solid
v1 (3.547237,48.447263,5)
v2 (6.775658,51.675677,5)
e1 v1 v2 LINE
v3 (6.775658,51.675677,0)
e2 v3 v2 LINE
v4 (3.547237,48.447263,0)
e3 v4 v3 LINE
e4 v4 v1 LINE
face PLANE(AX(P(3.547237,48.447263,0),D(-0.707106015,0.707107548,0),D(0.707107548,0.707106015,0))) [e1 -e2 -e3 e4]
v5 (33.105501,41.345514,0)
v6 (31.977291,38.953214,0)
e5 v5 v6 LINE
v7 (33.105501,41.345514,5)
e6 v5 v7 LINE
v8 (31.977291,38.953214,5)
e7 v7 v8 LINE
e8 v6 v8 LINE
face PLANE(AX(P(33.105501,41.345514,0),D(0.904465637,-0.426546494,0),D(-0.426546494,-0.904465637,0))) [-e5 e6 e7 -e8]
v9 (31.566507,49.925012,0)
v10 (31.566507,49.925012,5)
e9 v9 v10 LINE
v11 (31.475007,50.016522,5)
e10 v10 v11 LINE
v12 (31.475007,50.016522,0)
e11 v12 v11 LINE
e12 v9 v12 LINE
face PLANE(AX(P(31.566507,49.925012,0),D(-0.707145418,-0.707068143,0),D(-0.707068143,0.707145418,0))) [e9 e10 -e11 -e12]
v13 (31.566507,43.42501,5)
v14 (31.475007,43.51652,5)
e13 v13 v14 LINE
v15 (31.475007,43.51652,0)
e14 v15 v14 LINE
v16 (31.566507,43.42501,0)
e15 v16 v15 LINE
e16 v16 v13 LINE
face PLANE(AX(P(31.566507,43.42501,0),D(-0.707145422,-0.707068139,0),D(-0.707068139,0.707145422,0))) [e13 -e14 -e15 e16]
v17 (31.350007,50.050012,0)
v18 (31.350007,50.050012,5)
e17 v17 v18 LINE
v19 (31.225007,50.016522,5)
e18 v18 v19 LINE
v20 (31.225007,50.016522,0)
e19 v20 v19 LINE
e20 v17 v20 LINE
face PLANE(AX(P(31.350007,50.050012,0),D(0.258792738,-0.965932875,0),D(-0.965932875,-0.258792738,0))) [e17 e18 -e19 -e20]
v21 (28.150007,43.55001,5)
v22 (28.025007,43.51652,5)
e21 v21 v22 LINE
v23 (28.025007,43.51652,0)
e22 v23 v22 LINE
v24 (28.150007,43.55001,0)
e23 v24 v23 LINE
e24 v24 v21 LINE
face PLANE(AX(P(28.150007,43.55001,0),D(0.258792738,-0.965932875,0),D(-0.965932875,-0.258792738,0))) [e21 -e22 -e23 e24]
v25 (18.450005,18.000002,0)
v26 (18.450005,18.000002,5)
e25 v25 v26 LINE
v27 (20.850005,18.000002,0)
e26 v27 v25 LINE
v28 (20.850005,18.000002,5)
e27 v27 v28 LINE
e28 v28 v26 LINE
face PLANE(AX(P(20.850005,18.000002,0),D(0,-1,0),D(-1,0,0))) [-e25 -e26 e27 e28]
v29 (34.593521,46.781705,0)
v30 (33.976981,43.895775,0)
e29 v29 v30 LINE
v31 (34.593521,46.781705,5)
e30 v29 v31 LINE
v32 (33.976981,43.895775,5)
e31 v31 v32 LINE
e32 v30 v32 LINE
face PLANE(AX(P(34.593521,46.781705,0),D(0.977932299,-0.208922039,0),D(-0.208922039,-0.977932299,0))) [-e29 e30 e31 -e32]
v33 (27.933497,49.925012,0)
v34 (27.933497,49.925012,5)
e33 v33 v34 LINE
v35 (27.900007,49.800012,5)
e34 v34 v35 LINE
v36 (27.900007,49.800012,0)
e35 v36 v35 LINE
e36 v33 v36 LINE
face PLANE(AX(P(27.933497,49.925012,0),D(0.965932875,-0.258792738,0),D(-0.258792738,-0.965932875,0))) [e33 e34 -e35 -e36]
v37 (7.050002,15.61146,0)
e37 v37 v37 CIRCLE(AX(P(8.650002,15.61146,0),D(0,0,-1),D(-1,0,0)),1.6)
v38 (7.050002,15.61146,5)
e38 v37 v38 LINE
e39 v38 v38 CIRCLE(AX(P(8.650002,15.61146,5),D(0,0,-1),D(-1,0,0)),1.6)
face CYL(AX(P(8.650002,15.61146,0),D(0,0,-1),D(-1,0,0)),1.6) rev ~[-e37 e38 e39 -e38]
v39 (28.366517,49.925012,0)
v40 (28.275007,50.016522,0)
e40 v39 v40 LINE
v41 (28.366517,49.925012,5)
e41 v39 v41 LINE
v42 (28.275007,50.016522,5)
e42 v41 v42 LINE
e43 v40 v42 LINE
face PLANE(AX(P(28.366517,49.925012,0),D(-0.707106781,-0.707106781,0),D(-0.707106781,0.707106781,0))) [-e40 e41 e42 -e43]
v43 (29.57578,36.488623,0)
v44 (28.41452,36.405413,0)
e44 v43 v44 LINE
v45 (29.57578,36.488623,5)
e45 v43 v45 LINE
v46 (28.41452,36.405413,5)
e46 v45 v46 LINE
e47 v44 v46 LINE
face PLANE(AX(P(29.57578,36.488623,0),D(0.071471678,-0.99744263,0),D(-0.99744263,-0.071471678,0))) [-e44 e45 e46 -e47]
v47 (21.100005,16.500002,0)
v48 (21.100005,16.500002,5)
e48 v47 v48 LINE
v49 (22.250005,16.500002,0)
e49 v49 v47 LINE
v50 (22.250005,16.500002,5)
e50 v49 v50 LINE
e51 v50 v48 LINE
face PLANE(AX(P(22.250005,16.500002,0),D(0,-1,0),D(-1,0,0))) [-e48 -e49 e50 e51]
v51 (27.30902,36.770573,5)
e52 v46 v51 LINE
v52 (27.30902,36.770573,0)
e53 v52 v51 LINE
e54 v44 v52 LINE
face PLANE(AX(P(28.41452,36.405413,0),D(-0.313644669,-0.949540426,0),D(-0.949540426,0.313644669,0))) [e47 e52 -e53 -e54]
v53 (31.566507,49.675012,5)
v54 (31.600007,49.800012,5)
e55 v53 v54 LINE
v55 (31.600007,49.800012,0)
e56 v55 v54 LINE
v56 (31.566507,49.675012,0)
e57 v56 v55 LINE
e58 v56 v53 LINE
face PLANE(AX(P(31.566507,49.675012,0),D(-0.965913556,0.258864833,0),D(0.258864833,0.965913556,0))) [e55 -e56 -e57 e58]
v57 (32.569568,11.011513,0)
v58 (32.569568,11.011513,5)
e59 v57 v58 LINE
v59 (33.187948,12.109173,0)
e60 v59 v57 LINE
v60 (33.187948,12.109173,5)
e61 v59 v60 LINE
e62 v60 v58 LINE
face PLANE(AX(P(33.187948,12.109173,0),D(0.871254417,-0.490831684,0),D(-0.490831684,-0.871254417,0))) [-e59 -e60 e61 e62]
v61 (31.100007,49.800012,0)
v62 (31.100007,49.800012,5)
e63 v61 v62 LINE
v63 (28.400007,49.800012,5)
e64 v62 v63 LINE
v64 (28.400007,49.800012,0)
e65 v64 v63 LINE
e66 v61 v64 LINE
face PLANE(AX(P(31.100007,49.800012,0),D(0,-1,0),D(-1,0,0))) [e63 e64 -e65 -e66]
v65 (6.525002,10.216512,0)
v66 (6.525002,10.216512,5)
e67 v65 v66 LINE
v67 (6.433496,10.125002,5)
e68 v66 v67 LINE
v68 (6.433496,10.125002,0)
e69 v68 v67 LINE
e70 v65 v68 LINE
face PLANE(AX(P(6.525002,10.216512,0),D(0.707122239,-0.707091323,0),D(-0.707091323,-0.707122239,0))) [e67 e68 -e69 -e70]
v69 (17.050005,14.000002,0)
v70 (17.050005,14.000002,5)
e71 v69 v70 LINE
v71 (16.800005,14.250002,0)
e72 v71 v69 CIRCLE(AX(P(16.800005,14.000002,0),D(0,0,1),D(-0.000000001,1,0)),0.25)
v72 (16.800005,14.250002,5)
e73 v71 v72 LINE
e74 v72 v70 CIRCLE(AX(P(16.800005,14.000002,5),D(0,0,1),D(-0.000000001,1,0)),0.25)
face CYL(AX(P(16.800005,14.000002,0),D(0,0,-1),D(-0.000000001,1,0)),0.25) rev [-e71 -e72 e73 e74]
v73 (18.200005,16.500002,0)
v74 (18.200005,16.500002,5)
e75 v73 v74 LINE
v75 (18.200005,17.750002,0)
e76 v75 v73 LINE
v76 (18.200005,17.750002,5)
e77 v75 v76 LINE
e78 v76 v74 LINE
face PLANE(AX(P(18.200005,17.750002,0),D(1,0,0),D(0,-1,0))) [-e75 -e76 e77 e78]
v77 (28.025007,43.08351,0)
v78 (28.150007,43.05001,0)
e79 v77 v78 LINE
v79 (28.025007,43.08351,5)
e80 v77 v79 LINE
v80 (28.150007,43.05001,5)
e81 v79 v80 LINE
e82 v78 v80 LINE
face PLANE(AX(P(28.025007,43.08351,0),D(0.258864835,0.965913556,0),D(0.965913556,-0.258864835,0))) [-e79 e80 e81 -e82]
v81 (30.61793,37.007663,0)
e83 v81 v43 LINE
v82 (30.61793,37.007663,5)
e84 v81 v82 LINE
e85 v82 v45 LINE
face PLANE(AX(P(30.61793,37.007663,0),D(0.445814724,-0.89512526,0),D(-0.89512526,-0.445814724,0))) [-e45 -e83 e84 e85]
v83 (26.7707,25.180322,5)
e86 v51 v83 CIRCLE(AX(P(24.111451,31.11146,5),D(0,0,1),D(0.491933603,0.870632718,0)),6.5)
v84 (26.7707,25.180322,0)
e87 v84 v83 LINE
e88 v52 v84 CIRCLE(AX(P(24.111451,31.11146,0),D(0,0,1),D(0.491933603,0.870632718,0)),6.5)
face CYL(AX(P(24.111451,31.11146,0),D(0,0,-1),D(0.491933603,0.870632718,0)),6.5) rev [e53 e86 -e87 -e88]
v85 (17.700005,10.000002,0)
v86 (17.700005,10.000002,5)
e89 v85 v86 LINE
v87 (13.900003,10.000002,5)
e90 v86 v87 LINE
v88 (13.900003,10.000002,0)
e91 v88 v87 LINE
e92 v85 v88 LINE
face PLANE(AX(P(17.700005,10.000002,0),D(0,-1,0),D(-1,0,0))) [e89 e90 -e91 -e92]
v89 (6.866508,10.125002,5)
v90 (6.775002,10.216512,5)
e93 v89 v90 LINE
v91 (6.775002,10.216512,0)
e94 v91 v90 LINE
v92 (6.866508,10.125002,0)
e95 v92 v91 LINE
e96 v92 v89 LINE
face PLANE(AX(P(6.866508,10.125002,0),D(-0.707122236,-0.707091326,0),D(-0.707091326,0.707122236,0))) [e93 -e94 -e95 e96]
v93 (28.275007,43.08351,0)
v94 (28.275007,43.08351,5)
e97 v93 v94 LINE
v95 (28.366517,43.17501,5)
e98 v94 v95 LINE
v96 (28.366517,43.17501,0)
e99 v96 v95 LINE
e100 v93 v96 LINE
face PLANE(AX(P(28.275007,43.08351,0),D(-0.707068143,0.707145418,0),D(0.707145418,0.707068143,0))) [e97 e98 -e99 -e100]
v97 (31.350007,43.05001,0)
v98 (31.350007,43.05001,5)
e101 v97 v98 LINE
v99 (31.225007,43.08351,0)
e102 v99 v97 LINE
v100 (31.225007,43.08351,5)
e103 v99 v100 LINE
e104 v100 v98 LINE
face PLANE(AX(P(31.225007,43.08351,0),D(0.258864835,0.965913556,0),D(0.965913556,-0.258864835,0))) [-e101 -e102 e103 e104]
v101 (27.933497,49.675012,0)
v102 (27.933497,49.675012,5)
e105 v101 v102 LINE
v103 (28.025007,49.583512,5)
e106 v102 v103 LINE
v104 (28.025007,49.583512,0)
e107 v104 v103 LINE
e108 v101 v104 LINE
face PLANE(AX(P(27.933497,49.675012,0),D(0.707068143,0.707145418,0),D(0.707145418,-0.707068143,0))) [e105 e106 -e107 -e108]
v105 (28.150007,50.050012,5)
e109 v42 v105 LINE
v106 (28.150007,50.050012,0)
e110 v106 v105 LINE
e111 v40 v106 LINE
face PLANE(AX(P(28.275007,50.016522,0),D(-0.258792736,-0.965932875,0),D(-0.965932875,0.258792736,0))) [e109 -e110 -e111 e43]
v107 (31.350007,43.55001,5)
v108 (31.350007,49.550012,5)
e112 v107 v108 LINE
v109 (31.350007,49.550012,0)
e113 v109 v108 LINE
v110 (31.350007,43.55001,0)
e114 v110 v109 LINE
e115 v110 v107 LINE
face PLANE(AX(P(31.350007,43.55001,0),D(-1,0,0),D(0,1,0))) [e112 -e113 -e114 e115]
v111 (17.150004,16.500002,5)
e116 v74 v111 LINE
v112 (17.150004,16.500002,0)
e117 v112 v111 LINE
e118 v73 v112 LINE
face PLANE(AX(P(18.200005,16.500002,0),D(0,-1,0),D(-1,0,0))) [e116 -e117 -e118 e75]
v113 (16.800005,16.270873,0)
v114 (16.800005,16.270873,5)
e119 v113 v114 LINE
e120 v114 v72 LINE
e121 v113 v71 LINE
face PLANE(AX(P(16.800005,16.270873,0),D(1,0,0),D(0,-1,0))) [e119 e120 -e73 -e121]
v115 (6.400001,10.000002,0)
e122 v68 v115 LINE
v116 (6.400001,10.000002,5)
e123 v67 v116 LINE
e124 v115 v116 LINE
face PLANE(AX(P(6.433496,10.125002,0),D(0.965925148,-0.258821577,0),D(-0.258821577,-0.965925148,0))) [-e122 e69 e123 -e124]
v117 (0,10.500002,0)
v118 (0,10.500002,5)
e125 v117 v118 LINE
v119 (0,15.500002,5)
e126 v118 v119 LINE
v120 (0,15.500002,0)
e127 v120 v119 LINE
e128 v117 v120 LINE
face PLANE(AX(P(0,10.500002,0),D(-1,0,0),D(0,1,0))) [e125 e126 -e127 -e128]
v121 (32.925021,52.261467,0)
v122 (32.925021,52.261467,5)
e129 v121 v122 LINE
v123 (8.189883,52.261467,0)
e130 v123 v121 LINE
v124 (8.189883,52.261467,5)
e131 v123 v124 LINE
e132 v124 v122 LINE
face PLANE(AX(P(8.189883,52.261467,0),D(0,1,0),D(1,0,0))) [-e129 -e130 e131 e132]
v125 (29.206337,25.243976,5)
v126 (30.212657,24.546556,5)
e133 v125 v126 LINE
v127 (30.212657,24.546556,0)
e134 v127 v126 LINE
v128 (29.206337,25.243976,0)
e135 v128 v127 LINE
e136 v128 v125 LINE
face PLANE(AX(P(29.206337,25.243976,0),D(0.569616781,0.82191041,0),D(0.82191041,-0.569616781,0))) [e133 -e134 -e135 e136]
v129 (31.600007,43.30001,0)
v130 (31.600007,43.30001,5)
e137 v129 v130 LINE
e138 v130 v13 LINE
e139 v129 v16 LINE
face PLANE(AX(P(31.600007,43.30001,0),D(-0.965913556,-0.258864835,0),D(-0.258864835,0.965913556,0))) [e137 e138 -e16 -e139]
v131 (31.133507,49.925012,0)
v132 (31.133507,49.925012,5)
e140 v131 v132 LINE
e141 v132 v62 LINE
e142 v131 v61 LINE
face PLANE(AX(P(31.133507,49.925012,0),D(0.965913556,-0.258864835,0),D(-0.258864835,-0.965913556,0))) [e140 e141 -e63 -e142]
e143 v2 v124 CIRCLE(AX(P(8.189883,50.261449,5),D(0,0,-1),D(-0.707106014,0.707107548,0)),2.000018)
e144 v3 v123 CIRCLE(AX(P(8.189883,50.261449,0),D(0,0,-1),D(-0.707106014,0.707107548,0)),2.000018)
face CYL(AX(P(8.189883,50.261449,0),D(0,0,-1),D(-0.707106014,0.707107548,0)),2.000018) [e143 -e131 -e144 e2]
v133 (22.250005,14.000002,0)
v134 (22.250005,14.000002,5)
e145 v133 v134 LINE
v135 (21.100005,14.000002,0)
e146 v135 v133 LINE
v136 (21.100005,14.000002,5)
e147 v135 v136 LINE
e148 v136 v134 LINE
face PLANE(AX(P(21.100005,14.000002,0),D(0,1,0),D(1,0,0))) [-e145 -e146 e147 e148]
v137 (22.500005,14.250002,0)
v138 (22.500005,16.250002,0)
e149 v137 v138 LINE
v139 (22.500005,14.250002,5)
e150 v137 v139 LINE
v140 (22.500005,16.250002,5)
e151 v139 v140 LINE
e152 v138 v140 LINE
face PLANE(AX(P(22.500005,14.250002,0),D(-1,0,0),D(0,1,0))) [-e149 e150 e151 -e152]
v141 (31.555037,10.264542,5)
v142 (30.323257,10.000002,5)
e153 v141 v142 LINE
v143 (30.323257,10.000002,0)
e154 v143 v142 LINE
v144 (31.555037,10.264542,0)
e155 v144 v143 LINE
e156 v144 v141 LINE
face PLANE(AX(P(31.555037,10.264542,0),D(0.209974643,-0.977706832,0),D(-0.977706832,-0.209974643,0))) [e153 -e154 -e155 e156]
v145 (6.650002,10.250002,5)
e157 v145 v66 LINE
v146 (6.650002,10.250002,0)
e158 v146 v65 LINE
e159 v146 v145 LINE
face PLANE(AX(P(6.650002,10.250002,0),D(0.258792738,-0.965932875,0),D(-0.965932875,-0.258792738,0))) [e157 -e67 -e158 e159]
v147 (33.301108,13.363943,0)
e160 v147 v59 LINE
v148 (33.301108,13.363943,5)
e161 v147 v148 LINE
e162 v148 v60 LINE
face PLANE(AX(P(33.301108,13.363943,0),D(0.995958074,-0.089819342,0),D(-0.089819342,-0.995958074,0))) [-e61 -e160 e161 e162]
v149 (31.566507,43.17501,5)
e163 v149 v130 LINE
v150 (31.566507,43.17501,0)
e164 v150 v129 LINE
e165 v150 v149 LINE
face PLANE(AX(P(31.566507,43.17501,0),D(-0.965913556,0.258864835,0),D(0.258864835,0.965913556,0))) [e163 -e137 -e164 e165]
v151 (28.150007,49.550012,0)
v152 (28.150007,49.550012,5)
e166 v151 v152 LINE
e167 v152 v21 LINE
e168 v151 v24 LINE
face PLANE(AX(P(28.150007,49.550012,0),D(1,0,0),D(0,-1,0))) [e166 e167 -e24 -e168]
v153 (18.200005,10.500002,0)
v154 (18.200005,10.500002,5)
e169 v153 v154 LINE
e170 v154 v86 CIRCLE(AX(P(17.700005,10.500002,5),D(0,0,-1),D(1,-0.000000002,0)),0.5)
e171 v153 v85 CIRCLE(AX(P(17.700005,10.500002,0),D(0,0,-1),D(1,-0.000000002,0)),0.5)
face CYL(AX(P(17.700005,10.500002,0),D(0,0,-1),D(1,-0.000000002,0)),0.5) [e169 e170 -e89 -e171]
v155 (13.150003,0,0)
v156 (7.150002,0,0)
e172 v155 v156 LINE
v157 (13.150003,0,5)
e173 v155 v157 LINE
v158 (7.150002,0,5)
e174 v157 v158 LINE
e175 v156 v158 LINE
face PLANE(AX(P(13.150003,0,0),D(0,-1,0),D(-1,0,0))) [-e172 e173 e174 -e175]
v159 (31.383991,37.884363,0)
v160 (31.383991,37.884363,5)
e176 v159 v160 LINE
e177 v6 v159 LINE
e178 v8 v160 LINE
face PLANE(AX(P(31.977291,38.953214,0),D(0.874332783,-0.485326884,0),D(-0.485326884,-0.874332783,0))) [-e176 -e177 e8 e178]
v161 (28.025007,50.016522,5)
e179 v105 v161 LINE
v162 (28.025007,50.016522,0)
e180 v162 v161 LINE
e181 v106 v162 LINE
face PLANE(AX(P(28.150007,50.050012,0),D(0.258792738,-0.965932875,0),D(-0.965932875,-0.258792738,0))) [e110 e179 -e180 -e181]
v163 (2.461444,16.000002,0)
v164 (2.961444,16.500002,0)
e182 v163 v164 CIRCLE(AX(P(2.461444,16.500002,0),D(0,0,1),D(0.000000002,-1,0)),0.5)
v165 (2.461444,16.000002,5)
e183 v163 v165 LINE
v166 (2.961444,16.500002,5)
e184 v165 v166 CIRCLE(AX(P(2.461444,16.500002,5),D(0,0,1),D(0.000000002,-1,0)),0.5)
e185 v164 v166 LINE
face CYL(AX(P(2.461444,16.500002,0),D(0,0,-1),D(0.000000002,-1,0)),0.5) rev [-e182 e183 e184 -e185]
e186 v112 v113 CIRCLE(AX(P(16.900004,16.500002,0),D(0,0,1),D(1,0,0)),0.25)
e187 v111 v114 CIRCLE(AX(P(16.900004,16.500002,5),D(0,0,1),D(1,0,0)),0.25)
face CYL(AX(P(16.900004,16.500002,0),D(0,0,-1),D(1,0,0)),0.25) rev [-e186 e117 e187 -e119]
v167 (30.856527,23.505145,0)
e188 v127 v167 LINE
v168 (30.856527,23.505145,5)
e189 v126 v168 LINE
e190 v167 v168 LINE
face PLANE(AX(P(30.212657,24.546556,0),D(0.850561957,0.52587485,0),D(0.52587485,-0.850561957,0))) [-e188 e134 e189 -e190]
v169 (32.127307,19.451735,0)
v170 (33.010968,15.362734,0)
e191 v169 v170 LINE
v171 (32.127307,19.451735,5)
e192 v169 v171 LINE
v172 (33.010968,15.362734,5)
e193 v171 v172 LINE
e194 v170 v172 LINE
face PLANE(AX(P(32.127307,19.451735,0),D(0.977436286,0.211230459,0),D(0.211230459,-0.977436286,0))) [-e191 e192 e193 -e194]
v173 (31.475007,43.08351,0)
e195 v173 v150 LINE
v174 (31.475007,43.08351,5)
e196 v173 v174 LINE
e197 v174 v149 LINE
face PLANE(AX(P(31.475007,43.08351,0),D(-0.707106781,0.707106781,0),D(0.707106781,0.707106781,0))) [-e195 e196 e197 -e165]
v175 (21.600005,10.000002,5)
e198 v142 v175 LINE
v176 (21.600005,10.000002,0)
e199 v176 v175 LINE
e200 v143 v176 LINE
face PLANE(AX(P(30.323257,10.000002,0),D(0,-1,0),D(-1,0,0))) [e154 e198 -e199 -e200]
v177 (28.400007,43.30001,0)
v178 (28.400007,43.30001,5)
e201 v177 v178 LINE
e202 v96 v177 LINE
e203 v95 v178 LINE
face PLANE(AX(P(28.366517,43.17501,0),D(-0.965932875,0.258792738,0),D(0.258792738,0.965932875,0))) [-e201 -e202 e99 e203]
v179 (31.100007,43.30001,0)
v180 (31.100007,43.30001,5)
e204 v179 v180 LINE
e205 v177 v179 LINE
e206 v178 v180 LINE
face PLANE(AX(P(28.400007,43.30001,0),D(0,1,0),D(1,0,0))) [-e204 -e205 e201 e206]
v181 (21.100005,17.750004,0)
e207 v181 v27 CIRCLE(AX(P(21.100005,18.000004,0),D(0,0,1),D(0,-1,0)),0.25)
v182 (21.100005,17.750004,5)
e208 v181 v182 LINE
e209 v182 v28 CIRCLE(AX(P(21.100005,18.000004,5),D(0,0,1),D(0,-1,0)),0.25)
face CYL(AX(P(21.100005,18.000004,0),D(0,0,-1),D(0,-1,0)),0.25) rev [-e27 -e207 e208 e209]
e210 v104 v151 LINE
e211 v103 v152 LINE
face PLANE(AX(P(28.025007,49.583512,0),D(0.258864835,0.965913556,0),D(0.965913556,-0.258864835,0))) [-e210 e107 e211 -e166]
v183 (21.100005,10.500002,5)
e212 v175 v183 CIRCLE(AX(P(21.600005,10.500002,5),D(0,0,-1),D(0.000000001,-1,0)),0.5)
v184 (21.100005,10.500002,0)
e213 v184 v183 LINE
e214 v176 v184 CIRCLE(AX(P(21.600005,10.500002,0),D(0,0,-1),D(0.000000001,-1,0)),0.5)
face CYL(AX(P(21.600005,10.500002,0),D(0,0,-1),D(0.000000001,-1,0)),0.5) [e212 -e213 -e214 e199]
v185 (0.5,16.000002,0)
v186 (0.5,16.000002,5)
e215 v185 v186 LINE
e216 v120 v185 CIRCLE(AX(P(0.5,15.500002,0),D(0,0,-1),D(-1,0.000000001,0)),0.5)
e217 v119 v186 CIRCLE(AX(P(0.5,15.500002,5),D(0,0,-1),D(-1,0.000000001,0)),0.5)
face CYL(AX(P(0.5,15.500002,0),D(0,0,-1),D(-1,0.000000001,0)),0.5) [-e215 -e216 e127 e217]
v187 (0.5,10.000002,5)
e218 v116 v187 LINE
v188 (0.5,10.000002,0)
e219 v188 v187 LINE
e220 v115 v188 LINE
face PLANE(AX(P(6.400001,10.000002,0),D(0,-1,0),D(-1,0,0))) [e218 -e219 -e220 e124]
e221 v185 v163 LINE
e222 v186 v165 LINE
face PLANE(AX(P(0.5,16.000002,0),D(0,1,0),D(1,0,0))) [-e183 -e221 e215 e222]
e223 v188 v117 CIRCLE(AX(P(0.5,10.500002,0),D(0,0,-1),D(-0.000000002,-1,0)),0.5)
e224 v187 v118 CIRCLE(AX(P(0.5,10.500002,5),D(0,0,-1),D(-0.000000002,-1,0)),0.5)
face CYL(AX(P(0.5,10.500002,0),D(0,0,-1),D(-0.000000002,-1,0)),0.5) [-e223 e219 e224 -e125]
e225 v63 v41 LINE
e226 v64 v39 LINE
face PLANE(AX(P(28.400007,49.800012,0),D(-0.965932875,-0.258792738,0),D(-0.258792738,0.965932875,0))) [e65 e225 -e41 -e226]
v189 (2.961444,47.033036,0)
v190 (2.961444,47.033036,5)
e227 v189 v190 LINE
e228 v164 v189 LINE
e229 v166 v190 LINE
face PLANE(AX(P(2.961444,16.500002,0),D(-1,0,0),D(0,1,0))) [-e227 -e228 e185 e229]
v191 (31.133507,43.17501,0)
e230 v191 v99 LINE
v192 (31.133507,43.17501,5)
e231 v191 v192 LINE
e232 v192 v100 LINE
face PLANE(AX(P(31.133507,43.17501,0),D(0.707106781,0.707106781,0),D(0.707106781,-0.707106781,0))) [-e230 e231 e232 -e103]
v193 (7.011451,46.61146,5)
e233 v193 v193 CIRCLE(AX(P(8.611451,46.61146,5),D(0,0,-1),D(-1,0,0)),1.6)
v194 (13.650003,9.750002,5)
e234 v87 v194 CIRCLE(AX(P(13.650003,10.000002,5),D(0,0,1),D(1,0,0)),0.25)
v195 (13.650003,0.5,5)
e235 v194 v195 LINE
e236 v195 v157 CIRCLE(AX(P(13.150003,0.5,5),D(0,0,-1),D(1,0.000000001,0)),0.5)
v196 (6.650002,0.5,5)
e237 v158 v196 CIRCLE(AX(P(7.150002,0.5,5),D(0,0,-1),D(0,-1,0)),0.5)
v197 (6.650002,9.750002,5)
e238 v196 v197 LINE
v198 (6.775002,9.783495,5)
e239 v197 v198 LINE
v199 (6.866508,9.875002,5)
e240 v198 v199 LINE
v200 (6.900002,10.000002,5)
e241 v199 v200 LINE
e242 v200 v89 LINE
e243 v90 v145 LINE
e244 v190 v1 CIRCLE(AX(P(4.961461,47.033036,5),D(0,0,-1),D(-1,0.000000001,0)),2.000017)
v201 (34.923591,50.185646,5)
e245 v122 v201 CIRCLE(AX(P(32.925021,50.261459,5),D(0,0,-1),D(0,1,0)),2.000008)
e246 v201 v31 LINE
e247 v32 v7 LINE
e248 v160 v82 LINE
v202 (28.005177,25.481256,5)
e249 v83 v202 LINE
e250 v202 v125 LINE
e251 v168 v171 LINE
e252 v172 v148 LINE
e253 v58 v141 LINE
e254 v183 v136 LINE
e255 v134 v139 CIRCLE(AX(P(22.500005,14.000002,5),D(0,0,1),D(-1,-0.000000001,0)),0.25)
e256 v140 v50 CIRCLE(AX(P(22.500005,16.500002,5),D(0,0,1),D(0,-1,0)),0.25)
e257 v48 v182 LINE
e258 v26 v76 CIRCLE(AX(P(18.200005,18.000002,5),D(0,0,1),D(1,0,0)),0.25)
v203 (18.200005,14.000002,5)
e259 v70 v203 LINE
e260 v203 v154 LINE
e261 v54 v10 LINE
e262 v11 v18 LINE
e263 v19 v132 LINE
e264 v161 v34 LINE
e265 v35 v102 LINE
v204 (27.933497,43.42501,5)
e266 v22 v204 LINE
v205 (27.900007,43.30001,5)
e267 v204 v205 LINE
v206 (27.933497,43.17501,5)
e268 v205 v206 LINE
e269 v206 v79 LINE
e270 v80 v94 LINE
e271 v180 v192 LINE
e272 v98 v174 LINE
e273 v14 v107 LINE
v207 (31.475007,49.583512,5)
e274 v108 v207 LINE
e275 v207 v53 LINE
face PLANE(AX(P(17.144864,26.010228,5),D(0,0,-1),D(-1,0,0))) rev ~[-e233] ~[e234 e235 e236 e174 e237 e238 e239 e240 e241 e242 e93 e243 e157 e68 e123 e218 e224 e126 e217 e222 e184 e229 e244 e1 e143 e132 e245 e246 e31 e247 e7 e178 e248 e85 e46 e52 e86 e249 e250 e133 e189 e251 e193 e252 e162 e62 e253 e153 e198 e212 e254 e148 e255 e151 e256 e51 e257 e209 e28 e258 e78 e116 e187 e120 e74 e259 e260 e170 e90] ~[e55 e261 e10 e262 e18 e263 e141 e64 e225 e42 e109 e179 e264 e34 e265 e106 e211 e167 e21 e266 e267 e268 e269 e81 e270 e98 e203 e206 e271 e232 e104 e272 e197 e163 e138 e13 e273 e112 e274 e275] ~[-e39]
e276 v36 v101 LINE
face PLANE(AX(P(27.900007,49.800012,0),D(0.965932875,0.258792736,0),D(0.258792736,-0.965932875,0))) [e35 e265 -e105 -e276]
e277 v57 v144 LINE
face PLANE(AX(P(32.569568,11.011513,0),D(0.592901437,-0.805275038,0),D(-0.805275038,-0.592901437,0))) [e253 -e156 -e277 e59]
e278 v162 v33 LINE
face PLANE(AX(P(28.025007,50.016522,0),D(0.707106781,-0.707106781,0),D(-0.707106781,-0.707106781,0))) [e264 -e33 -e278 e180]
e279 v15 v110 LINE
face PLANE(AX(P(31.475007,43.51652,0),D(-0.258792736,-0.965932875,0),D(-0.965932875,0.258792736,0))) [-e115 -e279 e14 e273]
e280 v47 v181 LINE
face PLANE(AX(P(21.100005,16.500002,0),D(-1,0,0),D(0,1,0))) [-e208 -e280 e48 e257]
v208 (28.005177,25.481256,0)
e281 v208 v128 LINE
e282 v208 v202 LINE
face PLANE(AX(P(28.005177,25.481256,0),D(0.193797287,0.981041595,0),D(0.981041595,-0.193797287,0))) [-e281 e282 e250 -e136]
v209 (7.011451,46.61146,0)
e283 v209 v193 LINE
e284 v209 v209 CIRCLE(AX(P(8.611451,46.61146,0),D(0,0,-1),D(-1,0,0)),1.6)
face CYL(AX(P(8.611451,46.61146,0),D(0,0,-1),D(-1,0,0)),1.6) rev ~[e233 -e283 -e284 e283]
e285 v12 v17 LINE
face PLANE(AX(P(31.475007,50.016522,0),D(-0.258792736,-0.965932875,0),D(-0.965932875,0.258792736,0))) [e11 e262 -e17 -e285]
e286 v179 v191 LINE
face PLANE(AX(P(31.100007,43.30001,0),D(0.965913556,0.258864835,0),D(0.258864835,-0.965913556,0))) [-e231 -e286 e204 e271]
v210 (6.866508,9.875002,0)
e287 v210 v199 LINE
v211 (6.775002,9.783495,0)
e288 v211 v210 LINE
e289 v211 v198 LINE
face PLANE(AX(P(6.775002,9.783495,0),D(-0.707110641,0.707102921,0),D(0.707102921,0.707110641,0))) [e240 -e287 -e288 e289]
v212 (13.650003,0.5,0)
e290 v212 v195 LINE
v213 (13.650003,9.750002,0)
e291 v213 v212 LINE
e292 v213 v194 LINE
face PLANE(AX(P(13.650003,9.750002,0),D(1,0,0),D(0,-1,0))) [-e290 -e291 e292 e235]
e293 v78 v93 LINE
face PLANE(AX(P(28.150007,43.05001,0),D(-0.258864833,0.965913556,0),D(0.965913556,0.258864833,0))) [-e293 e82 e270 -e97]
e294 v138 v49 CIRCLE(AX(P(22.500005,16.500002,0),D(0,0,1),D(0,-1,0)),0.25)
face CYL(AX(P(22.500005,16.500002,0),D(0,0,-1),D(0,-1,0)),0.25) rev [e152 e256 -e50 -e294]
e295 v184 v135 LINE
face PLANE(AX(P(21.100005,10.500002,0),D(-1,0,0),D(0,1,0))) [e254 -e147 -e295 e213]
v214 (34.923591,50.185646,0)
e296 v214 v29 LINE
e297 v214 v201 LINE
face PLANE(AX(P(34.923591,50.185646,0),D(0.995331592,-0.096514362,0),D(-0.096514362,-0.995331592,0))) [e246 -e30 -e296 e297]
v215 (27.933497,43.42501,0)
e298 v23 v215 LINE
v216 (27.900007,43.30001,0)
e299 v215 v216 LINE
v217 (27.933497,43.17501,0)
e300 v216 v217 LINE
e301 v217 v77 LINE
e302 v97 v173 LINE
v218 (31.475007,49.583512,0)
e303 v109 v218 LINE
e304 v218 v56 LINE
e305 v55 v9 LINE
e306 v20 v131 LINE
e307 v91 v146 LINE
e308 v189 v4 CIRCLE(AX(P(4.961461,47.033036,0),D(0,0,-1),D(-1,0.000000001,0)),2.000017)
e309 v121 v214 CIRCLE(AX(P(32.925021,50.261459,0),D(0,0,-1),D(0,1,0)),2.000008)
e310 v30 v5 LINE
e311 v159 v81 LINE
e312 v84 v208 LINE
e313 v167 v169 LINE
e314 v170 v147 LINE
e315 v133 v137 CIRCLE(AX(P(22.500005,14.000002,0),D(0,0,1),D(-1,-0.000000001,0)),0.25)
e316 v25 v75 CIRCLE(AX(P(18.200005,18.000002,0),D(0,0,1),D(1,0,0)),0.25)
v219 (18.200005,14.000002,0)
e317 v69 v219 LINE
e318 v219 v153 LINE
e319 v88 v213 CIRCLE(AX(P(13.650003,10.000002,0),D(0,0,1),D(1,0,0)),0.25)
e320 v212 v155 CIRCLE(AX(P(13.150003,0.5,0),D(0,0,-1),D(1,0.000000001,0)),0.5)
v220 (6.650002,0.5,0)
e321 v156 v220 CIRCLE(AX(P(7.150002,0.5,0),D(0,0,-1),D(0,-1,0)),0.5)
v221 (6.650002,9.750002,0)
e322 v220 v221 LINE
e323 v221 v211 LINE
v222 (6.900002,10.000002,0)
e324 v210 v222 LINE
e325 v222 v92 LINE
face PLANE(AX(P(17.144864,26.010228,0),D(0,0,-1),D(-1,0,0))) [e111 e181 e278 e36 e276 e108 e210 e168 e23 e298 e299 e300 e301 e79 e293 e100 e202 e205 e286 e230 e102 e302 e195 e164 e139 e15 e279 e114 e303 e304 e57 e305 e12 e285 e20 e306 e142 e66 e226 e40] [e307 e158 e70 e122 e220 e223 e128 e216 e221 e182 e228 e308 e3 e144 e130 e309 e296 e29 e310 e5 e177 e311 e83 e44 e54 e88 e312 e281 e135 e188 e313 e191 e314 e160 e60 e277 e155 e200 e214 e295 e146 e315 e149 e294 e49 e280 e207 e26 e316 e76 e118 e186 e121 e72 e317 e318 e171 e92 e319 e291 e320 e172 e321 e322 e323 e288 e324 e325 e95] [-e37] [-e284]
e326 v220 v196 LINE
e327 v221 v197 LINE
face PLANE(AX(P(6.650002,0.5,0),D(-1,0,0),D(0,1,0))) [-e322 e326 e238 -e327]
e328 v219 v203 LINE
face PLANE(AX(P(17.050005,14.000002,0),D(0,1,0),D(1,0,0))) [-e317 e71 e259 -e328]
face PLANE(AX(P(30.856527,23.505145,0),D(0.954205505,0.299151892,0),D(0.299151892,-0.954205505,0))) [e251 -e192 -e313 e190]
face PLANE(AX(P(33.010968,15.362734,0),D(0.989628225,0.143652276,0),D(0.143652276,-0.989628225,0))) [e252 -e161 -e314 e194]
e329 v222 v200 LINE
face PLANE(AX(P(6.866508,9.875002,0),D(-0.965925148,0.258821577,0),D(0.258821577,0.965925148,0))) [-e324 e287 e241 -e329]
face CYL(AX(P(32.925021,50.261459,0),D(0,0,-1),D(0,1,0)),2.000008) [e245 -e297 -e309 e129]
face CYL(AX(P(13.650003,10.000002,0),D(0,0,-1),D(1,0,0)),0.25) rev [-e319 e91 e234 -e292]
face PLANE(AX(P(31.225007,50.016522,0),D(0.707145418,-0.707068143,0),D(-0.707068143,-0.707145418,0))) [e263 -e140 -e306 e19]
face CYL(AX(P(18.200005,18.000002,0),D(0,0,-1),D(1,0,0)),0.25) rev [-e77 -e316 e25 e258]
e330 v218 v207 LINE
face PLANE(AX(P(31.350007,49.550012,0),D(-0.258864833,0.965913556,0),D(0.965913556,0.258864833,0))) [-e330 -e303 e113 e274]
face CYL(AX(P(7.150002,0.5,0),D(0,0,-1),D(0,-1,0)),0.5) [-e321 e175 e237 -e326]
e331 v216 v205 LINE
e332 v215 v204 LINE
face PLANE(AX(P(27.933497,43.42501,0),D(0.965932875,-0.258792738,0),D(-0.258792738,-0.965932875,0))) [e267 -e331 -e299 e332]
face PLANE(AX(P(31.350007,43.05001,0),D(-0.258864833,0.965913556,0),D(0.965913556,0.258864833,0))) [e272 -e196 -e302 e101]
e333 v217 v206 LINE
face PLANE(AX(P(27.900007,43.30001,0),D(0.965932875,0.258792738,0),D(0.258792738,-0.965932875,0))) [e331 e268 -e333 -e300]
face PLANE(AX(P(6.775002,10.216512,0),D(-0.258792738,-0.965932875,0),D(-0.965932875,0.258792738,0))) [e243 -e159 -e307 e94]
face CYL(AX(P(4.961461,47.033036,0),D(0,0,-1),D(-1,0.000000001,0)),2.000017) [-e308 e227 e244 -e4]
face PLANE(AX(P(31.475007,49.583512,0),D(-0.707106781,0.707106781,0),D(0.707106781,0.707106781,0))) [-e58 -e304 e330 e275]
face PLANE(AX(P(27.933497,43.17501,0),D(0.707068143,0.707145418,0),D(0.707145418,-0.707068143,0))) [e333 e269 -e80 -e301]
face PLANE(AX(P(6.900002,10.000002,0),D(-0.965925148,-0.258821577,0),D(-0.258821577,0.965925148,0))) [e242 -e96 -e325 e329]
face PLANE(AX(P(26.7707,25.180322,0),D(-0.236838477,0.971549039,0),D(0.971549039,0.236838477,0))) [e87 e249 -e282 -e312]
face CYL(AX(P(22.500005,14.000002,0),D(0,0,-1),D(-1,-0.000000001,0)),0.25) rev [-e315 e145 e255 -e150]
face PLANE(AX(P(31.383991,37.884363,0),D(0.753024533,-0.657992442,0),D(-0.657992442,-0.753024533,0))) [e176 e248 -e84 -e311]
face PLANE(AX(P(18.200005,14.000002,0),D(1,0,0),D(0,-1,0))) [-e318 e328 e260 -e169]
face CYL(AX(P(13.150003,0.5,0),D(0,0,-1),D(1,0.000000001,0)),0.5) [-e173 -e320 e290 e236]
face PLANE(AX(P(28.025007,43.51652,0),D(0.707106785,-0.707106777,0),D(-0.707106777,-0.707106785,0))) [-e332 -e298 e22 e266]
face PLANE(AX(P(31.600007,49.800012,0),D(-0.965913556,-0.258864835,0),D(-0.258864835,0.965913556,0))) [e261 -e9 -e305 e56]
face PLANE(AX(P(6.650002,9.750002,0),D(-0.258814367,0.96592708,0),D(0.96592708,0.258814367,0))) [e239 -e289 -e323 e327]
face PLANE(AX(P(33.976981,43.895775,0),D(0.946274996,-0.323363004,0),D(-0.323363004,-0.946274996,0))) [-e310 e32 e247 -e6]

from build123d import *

# Parameters (mm, degrees)
ESQUISSE1_R        = 1.6
BOSS_EXTRU_1_DEPTH = 5


with BuildPart() as part:
    # Esquisse1 → Boss.-Extru.1 (new body)
    with BuildSketch(Plane(origin=(0, 0, 0), x_dir=(-1, 0, 0), z_dir=(0, 0, -1))):
        with BuildLine():
            Line((-34.923591431, 50.185646262), (-34.593521354, 46.781705469))
            Line((-34.593521354, 46.781705469), (-33.97698121, 43.895774796))
            Line((-33.97698121, 43.895774796), (-33.105501007, 41.345514202))
            Line((-33.105501007, 41.345514202), (-31.977290744, 38.953213644))
            Line((-31.977290744, 38.953213644), (-31.383990606, 37.884363395))
            Line((-31.383990606, 37.884363395), (-30.617930427, 37.00766319))
            Line((-30.617930427, 37.00766319), (-29.575780184, 36.488623069))
            Line((-29.575780184, 36.488623069), (-28.414519914, 36.40541305))
            Line((-28.414519914, 36.40541305), (-27.309019656, 36.770573135))
            ThreePointArc((-27.309019656, 36.770573135), (-17.618450893, 31.41303394), (-26.770699625, 25.180322464))
            Line((-26.770699625, 25.180322464), (-28.005176529, 25.48125594))
            Line((-28.005176529, 25.48125594), (-29.206336809, 25.243975885))
            Line((-29.206336809, 25.243975885), (-30.212657043, 24.546555722))
            Line((-30.212657043, 24.546555722), (-30.856527193, 23.50514548))
            Line((-30.856527193, 23.50514548), (-32.12730749, 19.451734535))
            Line((-32.12730749, 19.451734535), (-33.010967696, 15.362733581))
            Line((-33.010967696, 15.362733581), (-33.301107763, 13.363943115))
            Line((-33.301107763, 13.363943115), (-33.187947737, 12.109172823))
            Line((-33.187947737, 12.109172823), (-32.569567593, 11.011512567))
            Line((-32.569567593, 11.011512567), (-31.555037356, 10.264542393))
            Line((-31.555037356, 10.264542393), (-30.323257069, 10.000002331))
            Line((-30.323257069, 10.000002331), (-21.600005036, 10.000002331))
            ThreePointArc((-21.600005036, 10.000002331), (-21.246451562, 10.146448975), (-21.100004919, 10.500002448))
            Line((-21.100004919, 10.500002448), (-21.100004919, 14.000002331))
            Line((-21.100004919, 14.000002331), (-22.250004919, 14.000002331))
            ThreePointArc((-22.250004919, 14.000002331), (-22.676781614, 13.823225636), (-22.500004919, 14.250002331))
            Line((-22.500004919, 14.250002331), (-22.500004919, 16.250002331))
            ThreePointArc((-22.500004919, 16.250002331), (-22.676781614, 16.676779027), (-22.250004919, 16.500002331))
            Line((-22.250004919, 16.500002331), (-21.100004919, 16.500002331))
            Line((-21.100004919, 16.500002331), (-21.100004919, 17.750004196))
            ThreePointArc((-21.100004919, 17.750004196), (-21.276780955, 18.176781551), (-20.850004919, 18.000002331))
            Line((-20.850004919, 18.000002331), (-18.450004919, 18.000002331))
            ThreePointArc((-18.450004919, 18.000002331), (-18.023228224, 18.176779027), (-18.200004919, 17.750002331))
            Line((-18.200004919, 17.750002331), (-18.200004919, 16.500002331))
            Line((-18.200004919, 16.500002331), (-17.15000394, 16.500002331))
            ThreePointArc((-17.15000394, 16.500002331), (-16.763072854, 16.709167045), (-16.800004919, 16.270873119))
            Line((-16.800004919, 16.270873119), (-16.800004919, 14.250002331))
            ThreePointArc((-16.800004919, 14.250002331), (-16.623228224, 13.823225636), (-17.050004919, 14.000002331))
            Line((-17.050004919, 14.000002331), (-18.200004919, 14.000002331))
            Line((-18.200004919, 14.000002331), (-18.200004919, 10.500002448))
            ThreePointArc((-18.200004919, 10.500002448), (-18.053558275, 10.146448975), (-17.700004802, 10.000002331))
            Line((-17.700004802, 10.000002331), (-13.900003182, 10.000002331))
            ThreePointArc((-13.900003182, 10.000002331), (-13.473226487, 10.176779027), (-13.650003182, 9.750002331))
            Line((-13.650003182, 9.750002331), (-13.650003182, 0.500000117))
            ThreePointArc((-13.650003182, 0.500000117), (-13.503556539, 0.146446644), (-13.150003066, 0))
            Line((-13.150003066, 0), (-7.150001767, 0))
            ThreePointArc((-7.150001767, 0), (-6.796448223, 0.146446673), (-6.65000155, 0.500000217))
            Line((-6.65000155, 0.500000217), (-6.65000155, 9.750002273))
            Line((-6.65000155, 9.750002273), (-6.775001579, 9.783495281))
            Line((-6.775001579, 9.783495281), (-6.866507601, 9.875002302))
            Line((-6.866507601, 9.875002302), (-6.900001609, 10.000002331))
            Line((-6.900001609, 10.000002331), (-6.866507601, 10.12500236))
            Line((-6.866507601, 10.12500236), (-6.775001579, 10.216512382))
            Line((-6.775001579, 10.216512382), (-6.65000155, 10.25000239))
            Line((-6.65000155, 10.25000239), (-6.525001521, 10.216512382))
            Line((-6.525001521, 10.216512382), (-6.4334955, 10.12500236))
            Line((-6.4334955, 10.12500236), (-6.400001492, 10.000002331))
            Line((-6.400001492, 10.000002331), (-0.500000117, 10.000002331))
            ThreePointArc((-0.500000117, 10.000002331), (-0.146446644, 10.146448975), (0, 10.500002448))
            Line((0, 10.500002448), (0, 15.500002215))
            ThreePointArc((0, 15.500002215), (-0.146446644, 15.853555688), (-0.500000117, 16.000002331))
            Line((-0.500000117, 16.000002331), (-2.461443863, 16.000002331))
            ThreePointArc((-2.461443863, 16.000002331), (-2.814997336, 16.146448975), (-2.96144398, 16.500002448))
            Line((-2.96144398, 16.500002448), (-2.96144398, 47.033035527))
            ThreePointArc((-2.96144398, 47.033035527), (-3.113686629, 47.798409924), (-3.547236949, 48.44726269))
            Line((-3.547236949, 48.44726269), (-6.775657869, 51.67567661))
            ThreePointArc((-6.775657869, 51.67567661), (-7.42450983, 52.109224866), (-8.18988253, 52.261466746))
            Line((-8.18988253, 52.261466746), (-32.925020965, 52.261466746))
            ThreePointArc((-32.925020965, 52.261466746), (-34.365794593, 51.648615258), (-34.923591431, 50.185646262))
        make_face()
        with Locations((-8.611451235, 46.611460467)):
            Circle(ESQUISSE1_R, mode=Mode.SUBTRACT)
        with Locations((-8.650001767, 15.611460467)):
            Circle(ESQUISSE1_R, mode=Mode.SUBTRACT)
        Polygon((-31.600007367, 43.300010094), (-31.566507359, 43.425010123), (-31.475007338, 43.516520145), (-31.350007308, 43.550010153), (-31.350007308, 49.550011551), (-31.475007338, 49.583511559), (-31.566507359, 49.67501158), (-31.600007367, 49.80001161), (-31.566507359, 49.925011639), (-31.475007338, 50.01652166), (-31.350007308, 50.050011668), (-31.225007279, 50.01652166), (-31.133507258, 49.925011639), (-31.10000725, 49.80001161), (-28.400006621, 49.80001161), (-28.366516613, 49.925011639), (-28.275006592, 50.01652166), (-28.150006562, 50.050011668), (-28.025006533, 50.01652166), (-27.933496512, 49.925011639), (-27.900006504, 49.80001161), (-27.933496512, 49.67501158), (-28.025006533, 49.583511559), (-28.150006562, 49.550011551), (-28.150006562, 43.550010153), (-28.025006533, 43.516520145), (-27.933496512, 43.425010123), (-27.900006504, 43.300010094), (-27.933496512, 43.175010065), (-28.025006533, 43.083510044), (-28.150006562, 43.050010036), (-28.275006592, 43.083510044), (-28.366516613, 43.175010065), (-28.400006621, 43.300010094), (-31.10000725, 43.300010094), (-31.133507258, 43.175010065), (-31.225007279, 43.083510044), (-31.350007308, 43.050010036), (-31.475007338, 43.083510044), (-31.566507359, 43.175010065), align=None, mode=Mode.SUBTRACT)
    extrude(amount=-BOSS_EXTRU_1_DEPTH)


solid = part.part
